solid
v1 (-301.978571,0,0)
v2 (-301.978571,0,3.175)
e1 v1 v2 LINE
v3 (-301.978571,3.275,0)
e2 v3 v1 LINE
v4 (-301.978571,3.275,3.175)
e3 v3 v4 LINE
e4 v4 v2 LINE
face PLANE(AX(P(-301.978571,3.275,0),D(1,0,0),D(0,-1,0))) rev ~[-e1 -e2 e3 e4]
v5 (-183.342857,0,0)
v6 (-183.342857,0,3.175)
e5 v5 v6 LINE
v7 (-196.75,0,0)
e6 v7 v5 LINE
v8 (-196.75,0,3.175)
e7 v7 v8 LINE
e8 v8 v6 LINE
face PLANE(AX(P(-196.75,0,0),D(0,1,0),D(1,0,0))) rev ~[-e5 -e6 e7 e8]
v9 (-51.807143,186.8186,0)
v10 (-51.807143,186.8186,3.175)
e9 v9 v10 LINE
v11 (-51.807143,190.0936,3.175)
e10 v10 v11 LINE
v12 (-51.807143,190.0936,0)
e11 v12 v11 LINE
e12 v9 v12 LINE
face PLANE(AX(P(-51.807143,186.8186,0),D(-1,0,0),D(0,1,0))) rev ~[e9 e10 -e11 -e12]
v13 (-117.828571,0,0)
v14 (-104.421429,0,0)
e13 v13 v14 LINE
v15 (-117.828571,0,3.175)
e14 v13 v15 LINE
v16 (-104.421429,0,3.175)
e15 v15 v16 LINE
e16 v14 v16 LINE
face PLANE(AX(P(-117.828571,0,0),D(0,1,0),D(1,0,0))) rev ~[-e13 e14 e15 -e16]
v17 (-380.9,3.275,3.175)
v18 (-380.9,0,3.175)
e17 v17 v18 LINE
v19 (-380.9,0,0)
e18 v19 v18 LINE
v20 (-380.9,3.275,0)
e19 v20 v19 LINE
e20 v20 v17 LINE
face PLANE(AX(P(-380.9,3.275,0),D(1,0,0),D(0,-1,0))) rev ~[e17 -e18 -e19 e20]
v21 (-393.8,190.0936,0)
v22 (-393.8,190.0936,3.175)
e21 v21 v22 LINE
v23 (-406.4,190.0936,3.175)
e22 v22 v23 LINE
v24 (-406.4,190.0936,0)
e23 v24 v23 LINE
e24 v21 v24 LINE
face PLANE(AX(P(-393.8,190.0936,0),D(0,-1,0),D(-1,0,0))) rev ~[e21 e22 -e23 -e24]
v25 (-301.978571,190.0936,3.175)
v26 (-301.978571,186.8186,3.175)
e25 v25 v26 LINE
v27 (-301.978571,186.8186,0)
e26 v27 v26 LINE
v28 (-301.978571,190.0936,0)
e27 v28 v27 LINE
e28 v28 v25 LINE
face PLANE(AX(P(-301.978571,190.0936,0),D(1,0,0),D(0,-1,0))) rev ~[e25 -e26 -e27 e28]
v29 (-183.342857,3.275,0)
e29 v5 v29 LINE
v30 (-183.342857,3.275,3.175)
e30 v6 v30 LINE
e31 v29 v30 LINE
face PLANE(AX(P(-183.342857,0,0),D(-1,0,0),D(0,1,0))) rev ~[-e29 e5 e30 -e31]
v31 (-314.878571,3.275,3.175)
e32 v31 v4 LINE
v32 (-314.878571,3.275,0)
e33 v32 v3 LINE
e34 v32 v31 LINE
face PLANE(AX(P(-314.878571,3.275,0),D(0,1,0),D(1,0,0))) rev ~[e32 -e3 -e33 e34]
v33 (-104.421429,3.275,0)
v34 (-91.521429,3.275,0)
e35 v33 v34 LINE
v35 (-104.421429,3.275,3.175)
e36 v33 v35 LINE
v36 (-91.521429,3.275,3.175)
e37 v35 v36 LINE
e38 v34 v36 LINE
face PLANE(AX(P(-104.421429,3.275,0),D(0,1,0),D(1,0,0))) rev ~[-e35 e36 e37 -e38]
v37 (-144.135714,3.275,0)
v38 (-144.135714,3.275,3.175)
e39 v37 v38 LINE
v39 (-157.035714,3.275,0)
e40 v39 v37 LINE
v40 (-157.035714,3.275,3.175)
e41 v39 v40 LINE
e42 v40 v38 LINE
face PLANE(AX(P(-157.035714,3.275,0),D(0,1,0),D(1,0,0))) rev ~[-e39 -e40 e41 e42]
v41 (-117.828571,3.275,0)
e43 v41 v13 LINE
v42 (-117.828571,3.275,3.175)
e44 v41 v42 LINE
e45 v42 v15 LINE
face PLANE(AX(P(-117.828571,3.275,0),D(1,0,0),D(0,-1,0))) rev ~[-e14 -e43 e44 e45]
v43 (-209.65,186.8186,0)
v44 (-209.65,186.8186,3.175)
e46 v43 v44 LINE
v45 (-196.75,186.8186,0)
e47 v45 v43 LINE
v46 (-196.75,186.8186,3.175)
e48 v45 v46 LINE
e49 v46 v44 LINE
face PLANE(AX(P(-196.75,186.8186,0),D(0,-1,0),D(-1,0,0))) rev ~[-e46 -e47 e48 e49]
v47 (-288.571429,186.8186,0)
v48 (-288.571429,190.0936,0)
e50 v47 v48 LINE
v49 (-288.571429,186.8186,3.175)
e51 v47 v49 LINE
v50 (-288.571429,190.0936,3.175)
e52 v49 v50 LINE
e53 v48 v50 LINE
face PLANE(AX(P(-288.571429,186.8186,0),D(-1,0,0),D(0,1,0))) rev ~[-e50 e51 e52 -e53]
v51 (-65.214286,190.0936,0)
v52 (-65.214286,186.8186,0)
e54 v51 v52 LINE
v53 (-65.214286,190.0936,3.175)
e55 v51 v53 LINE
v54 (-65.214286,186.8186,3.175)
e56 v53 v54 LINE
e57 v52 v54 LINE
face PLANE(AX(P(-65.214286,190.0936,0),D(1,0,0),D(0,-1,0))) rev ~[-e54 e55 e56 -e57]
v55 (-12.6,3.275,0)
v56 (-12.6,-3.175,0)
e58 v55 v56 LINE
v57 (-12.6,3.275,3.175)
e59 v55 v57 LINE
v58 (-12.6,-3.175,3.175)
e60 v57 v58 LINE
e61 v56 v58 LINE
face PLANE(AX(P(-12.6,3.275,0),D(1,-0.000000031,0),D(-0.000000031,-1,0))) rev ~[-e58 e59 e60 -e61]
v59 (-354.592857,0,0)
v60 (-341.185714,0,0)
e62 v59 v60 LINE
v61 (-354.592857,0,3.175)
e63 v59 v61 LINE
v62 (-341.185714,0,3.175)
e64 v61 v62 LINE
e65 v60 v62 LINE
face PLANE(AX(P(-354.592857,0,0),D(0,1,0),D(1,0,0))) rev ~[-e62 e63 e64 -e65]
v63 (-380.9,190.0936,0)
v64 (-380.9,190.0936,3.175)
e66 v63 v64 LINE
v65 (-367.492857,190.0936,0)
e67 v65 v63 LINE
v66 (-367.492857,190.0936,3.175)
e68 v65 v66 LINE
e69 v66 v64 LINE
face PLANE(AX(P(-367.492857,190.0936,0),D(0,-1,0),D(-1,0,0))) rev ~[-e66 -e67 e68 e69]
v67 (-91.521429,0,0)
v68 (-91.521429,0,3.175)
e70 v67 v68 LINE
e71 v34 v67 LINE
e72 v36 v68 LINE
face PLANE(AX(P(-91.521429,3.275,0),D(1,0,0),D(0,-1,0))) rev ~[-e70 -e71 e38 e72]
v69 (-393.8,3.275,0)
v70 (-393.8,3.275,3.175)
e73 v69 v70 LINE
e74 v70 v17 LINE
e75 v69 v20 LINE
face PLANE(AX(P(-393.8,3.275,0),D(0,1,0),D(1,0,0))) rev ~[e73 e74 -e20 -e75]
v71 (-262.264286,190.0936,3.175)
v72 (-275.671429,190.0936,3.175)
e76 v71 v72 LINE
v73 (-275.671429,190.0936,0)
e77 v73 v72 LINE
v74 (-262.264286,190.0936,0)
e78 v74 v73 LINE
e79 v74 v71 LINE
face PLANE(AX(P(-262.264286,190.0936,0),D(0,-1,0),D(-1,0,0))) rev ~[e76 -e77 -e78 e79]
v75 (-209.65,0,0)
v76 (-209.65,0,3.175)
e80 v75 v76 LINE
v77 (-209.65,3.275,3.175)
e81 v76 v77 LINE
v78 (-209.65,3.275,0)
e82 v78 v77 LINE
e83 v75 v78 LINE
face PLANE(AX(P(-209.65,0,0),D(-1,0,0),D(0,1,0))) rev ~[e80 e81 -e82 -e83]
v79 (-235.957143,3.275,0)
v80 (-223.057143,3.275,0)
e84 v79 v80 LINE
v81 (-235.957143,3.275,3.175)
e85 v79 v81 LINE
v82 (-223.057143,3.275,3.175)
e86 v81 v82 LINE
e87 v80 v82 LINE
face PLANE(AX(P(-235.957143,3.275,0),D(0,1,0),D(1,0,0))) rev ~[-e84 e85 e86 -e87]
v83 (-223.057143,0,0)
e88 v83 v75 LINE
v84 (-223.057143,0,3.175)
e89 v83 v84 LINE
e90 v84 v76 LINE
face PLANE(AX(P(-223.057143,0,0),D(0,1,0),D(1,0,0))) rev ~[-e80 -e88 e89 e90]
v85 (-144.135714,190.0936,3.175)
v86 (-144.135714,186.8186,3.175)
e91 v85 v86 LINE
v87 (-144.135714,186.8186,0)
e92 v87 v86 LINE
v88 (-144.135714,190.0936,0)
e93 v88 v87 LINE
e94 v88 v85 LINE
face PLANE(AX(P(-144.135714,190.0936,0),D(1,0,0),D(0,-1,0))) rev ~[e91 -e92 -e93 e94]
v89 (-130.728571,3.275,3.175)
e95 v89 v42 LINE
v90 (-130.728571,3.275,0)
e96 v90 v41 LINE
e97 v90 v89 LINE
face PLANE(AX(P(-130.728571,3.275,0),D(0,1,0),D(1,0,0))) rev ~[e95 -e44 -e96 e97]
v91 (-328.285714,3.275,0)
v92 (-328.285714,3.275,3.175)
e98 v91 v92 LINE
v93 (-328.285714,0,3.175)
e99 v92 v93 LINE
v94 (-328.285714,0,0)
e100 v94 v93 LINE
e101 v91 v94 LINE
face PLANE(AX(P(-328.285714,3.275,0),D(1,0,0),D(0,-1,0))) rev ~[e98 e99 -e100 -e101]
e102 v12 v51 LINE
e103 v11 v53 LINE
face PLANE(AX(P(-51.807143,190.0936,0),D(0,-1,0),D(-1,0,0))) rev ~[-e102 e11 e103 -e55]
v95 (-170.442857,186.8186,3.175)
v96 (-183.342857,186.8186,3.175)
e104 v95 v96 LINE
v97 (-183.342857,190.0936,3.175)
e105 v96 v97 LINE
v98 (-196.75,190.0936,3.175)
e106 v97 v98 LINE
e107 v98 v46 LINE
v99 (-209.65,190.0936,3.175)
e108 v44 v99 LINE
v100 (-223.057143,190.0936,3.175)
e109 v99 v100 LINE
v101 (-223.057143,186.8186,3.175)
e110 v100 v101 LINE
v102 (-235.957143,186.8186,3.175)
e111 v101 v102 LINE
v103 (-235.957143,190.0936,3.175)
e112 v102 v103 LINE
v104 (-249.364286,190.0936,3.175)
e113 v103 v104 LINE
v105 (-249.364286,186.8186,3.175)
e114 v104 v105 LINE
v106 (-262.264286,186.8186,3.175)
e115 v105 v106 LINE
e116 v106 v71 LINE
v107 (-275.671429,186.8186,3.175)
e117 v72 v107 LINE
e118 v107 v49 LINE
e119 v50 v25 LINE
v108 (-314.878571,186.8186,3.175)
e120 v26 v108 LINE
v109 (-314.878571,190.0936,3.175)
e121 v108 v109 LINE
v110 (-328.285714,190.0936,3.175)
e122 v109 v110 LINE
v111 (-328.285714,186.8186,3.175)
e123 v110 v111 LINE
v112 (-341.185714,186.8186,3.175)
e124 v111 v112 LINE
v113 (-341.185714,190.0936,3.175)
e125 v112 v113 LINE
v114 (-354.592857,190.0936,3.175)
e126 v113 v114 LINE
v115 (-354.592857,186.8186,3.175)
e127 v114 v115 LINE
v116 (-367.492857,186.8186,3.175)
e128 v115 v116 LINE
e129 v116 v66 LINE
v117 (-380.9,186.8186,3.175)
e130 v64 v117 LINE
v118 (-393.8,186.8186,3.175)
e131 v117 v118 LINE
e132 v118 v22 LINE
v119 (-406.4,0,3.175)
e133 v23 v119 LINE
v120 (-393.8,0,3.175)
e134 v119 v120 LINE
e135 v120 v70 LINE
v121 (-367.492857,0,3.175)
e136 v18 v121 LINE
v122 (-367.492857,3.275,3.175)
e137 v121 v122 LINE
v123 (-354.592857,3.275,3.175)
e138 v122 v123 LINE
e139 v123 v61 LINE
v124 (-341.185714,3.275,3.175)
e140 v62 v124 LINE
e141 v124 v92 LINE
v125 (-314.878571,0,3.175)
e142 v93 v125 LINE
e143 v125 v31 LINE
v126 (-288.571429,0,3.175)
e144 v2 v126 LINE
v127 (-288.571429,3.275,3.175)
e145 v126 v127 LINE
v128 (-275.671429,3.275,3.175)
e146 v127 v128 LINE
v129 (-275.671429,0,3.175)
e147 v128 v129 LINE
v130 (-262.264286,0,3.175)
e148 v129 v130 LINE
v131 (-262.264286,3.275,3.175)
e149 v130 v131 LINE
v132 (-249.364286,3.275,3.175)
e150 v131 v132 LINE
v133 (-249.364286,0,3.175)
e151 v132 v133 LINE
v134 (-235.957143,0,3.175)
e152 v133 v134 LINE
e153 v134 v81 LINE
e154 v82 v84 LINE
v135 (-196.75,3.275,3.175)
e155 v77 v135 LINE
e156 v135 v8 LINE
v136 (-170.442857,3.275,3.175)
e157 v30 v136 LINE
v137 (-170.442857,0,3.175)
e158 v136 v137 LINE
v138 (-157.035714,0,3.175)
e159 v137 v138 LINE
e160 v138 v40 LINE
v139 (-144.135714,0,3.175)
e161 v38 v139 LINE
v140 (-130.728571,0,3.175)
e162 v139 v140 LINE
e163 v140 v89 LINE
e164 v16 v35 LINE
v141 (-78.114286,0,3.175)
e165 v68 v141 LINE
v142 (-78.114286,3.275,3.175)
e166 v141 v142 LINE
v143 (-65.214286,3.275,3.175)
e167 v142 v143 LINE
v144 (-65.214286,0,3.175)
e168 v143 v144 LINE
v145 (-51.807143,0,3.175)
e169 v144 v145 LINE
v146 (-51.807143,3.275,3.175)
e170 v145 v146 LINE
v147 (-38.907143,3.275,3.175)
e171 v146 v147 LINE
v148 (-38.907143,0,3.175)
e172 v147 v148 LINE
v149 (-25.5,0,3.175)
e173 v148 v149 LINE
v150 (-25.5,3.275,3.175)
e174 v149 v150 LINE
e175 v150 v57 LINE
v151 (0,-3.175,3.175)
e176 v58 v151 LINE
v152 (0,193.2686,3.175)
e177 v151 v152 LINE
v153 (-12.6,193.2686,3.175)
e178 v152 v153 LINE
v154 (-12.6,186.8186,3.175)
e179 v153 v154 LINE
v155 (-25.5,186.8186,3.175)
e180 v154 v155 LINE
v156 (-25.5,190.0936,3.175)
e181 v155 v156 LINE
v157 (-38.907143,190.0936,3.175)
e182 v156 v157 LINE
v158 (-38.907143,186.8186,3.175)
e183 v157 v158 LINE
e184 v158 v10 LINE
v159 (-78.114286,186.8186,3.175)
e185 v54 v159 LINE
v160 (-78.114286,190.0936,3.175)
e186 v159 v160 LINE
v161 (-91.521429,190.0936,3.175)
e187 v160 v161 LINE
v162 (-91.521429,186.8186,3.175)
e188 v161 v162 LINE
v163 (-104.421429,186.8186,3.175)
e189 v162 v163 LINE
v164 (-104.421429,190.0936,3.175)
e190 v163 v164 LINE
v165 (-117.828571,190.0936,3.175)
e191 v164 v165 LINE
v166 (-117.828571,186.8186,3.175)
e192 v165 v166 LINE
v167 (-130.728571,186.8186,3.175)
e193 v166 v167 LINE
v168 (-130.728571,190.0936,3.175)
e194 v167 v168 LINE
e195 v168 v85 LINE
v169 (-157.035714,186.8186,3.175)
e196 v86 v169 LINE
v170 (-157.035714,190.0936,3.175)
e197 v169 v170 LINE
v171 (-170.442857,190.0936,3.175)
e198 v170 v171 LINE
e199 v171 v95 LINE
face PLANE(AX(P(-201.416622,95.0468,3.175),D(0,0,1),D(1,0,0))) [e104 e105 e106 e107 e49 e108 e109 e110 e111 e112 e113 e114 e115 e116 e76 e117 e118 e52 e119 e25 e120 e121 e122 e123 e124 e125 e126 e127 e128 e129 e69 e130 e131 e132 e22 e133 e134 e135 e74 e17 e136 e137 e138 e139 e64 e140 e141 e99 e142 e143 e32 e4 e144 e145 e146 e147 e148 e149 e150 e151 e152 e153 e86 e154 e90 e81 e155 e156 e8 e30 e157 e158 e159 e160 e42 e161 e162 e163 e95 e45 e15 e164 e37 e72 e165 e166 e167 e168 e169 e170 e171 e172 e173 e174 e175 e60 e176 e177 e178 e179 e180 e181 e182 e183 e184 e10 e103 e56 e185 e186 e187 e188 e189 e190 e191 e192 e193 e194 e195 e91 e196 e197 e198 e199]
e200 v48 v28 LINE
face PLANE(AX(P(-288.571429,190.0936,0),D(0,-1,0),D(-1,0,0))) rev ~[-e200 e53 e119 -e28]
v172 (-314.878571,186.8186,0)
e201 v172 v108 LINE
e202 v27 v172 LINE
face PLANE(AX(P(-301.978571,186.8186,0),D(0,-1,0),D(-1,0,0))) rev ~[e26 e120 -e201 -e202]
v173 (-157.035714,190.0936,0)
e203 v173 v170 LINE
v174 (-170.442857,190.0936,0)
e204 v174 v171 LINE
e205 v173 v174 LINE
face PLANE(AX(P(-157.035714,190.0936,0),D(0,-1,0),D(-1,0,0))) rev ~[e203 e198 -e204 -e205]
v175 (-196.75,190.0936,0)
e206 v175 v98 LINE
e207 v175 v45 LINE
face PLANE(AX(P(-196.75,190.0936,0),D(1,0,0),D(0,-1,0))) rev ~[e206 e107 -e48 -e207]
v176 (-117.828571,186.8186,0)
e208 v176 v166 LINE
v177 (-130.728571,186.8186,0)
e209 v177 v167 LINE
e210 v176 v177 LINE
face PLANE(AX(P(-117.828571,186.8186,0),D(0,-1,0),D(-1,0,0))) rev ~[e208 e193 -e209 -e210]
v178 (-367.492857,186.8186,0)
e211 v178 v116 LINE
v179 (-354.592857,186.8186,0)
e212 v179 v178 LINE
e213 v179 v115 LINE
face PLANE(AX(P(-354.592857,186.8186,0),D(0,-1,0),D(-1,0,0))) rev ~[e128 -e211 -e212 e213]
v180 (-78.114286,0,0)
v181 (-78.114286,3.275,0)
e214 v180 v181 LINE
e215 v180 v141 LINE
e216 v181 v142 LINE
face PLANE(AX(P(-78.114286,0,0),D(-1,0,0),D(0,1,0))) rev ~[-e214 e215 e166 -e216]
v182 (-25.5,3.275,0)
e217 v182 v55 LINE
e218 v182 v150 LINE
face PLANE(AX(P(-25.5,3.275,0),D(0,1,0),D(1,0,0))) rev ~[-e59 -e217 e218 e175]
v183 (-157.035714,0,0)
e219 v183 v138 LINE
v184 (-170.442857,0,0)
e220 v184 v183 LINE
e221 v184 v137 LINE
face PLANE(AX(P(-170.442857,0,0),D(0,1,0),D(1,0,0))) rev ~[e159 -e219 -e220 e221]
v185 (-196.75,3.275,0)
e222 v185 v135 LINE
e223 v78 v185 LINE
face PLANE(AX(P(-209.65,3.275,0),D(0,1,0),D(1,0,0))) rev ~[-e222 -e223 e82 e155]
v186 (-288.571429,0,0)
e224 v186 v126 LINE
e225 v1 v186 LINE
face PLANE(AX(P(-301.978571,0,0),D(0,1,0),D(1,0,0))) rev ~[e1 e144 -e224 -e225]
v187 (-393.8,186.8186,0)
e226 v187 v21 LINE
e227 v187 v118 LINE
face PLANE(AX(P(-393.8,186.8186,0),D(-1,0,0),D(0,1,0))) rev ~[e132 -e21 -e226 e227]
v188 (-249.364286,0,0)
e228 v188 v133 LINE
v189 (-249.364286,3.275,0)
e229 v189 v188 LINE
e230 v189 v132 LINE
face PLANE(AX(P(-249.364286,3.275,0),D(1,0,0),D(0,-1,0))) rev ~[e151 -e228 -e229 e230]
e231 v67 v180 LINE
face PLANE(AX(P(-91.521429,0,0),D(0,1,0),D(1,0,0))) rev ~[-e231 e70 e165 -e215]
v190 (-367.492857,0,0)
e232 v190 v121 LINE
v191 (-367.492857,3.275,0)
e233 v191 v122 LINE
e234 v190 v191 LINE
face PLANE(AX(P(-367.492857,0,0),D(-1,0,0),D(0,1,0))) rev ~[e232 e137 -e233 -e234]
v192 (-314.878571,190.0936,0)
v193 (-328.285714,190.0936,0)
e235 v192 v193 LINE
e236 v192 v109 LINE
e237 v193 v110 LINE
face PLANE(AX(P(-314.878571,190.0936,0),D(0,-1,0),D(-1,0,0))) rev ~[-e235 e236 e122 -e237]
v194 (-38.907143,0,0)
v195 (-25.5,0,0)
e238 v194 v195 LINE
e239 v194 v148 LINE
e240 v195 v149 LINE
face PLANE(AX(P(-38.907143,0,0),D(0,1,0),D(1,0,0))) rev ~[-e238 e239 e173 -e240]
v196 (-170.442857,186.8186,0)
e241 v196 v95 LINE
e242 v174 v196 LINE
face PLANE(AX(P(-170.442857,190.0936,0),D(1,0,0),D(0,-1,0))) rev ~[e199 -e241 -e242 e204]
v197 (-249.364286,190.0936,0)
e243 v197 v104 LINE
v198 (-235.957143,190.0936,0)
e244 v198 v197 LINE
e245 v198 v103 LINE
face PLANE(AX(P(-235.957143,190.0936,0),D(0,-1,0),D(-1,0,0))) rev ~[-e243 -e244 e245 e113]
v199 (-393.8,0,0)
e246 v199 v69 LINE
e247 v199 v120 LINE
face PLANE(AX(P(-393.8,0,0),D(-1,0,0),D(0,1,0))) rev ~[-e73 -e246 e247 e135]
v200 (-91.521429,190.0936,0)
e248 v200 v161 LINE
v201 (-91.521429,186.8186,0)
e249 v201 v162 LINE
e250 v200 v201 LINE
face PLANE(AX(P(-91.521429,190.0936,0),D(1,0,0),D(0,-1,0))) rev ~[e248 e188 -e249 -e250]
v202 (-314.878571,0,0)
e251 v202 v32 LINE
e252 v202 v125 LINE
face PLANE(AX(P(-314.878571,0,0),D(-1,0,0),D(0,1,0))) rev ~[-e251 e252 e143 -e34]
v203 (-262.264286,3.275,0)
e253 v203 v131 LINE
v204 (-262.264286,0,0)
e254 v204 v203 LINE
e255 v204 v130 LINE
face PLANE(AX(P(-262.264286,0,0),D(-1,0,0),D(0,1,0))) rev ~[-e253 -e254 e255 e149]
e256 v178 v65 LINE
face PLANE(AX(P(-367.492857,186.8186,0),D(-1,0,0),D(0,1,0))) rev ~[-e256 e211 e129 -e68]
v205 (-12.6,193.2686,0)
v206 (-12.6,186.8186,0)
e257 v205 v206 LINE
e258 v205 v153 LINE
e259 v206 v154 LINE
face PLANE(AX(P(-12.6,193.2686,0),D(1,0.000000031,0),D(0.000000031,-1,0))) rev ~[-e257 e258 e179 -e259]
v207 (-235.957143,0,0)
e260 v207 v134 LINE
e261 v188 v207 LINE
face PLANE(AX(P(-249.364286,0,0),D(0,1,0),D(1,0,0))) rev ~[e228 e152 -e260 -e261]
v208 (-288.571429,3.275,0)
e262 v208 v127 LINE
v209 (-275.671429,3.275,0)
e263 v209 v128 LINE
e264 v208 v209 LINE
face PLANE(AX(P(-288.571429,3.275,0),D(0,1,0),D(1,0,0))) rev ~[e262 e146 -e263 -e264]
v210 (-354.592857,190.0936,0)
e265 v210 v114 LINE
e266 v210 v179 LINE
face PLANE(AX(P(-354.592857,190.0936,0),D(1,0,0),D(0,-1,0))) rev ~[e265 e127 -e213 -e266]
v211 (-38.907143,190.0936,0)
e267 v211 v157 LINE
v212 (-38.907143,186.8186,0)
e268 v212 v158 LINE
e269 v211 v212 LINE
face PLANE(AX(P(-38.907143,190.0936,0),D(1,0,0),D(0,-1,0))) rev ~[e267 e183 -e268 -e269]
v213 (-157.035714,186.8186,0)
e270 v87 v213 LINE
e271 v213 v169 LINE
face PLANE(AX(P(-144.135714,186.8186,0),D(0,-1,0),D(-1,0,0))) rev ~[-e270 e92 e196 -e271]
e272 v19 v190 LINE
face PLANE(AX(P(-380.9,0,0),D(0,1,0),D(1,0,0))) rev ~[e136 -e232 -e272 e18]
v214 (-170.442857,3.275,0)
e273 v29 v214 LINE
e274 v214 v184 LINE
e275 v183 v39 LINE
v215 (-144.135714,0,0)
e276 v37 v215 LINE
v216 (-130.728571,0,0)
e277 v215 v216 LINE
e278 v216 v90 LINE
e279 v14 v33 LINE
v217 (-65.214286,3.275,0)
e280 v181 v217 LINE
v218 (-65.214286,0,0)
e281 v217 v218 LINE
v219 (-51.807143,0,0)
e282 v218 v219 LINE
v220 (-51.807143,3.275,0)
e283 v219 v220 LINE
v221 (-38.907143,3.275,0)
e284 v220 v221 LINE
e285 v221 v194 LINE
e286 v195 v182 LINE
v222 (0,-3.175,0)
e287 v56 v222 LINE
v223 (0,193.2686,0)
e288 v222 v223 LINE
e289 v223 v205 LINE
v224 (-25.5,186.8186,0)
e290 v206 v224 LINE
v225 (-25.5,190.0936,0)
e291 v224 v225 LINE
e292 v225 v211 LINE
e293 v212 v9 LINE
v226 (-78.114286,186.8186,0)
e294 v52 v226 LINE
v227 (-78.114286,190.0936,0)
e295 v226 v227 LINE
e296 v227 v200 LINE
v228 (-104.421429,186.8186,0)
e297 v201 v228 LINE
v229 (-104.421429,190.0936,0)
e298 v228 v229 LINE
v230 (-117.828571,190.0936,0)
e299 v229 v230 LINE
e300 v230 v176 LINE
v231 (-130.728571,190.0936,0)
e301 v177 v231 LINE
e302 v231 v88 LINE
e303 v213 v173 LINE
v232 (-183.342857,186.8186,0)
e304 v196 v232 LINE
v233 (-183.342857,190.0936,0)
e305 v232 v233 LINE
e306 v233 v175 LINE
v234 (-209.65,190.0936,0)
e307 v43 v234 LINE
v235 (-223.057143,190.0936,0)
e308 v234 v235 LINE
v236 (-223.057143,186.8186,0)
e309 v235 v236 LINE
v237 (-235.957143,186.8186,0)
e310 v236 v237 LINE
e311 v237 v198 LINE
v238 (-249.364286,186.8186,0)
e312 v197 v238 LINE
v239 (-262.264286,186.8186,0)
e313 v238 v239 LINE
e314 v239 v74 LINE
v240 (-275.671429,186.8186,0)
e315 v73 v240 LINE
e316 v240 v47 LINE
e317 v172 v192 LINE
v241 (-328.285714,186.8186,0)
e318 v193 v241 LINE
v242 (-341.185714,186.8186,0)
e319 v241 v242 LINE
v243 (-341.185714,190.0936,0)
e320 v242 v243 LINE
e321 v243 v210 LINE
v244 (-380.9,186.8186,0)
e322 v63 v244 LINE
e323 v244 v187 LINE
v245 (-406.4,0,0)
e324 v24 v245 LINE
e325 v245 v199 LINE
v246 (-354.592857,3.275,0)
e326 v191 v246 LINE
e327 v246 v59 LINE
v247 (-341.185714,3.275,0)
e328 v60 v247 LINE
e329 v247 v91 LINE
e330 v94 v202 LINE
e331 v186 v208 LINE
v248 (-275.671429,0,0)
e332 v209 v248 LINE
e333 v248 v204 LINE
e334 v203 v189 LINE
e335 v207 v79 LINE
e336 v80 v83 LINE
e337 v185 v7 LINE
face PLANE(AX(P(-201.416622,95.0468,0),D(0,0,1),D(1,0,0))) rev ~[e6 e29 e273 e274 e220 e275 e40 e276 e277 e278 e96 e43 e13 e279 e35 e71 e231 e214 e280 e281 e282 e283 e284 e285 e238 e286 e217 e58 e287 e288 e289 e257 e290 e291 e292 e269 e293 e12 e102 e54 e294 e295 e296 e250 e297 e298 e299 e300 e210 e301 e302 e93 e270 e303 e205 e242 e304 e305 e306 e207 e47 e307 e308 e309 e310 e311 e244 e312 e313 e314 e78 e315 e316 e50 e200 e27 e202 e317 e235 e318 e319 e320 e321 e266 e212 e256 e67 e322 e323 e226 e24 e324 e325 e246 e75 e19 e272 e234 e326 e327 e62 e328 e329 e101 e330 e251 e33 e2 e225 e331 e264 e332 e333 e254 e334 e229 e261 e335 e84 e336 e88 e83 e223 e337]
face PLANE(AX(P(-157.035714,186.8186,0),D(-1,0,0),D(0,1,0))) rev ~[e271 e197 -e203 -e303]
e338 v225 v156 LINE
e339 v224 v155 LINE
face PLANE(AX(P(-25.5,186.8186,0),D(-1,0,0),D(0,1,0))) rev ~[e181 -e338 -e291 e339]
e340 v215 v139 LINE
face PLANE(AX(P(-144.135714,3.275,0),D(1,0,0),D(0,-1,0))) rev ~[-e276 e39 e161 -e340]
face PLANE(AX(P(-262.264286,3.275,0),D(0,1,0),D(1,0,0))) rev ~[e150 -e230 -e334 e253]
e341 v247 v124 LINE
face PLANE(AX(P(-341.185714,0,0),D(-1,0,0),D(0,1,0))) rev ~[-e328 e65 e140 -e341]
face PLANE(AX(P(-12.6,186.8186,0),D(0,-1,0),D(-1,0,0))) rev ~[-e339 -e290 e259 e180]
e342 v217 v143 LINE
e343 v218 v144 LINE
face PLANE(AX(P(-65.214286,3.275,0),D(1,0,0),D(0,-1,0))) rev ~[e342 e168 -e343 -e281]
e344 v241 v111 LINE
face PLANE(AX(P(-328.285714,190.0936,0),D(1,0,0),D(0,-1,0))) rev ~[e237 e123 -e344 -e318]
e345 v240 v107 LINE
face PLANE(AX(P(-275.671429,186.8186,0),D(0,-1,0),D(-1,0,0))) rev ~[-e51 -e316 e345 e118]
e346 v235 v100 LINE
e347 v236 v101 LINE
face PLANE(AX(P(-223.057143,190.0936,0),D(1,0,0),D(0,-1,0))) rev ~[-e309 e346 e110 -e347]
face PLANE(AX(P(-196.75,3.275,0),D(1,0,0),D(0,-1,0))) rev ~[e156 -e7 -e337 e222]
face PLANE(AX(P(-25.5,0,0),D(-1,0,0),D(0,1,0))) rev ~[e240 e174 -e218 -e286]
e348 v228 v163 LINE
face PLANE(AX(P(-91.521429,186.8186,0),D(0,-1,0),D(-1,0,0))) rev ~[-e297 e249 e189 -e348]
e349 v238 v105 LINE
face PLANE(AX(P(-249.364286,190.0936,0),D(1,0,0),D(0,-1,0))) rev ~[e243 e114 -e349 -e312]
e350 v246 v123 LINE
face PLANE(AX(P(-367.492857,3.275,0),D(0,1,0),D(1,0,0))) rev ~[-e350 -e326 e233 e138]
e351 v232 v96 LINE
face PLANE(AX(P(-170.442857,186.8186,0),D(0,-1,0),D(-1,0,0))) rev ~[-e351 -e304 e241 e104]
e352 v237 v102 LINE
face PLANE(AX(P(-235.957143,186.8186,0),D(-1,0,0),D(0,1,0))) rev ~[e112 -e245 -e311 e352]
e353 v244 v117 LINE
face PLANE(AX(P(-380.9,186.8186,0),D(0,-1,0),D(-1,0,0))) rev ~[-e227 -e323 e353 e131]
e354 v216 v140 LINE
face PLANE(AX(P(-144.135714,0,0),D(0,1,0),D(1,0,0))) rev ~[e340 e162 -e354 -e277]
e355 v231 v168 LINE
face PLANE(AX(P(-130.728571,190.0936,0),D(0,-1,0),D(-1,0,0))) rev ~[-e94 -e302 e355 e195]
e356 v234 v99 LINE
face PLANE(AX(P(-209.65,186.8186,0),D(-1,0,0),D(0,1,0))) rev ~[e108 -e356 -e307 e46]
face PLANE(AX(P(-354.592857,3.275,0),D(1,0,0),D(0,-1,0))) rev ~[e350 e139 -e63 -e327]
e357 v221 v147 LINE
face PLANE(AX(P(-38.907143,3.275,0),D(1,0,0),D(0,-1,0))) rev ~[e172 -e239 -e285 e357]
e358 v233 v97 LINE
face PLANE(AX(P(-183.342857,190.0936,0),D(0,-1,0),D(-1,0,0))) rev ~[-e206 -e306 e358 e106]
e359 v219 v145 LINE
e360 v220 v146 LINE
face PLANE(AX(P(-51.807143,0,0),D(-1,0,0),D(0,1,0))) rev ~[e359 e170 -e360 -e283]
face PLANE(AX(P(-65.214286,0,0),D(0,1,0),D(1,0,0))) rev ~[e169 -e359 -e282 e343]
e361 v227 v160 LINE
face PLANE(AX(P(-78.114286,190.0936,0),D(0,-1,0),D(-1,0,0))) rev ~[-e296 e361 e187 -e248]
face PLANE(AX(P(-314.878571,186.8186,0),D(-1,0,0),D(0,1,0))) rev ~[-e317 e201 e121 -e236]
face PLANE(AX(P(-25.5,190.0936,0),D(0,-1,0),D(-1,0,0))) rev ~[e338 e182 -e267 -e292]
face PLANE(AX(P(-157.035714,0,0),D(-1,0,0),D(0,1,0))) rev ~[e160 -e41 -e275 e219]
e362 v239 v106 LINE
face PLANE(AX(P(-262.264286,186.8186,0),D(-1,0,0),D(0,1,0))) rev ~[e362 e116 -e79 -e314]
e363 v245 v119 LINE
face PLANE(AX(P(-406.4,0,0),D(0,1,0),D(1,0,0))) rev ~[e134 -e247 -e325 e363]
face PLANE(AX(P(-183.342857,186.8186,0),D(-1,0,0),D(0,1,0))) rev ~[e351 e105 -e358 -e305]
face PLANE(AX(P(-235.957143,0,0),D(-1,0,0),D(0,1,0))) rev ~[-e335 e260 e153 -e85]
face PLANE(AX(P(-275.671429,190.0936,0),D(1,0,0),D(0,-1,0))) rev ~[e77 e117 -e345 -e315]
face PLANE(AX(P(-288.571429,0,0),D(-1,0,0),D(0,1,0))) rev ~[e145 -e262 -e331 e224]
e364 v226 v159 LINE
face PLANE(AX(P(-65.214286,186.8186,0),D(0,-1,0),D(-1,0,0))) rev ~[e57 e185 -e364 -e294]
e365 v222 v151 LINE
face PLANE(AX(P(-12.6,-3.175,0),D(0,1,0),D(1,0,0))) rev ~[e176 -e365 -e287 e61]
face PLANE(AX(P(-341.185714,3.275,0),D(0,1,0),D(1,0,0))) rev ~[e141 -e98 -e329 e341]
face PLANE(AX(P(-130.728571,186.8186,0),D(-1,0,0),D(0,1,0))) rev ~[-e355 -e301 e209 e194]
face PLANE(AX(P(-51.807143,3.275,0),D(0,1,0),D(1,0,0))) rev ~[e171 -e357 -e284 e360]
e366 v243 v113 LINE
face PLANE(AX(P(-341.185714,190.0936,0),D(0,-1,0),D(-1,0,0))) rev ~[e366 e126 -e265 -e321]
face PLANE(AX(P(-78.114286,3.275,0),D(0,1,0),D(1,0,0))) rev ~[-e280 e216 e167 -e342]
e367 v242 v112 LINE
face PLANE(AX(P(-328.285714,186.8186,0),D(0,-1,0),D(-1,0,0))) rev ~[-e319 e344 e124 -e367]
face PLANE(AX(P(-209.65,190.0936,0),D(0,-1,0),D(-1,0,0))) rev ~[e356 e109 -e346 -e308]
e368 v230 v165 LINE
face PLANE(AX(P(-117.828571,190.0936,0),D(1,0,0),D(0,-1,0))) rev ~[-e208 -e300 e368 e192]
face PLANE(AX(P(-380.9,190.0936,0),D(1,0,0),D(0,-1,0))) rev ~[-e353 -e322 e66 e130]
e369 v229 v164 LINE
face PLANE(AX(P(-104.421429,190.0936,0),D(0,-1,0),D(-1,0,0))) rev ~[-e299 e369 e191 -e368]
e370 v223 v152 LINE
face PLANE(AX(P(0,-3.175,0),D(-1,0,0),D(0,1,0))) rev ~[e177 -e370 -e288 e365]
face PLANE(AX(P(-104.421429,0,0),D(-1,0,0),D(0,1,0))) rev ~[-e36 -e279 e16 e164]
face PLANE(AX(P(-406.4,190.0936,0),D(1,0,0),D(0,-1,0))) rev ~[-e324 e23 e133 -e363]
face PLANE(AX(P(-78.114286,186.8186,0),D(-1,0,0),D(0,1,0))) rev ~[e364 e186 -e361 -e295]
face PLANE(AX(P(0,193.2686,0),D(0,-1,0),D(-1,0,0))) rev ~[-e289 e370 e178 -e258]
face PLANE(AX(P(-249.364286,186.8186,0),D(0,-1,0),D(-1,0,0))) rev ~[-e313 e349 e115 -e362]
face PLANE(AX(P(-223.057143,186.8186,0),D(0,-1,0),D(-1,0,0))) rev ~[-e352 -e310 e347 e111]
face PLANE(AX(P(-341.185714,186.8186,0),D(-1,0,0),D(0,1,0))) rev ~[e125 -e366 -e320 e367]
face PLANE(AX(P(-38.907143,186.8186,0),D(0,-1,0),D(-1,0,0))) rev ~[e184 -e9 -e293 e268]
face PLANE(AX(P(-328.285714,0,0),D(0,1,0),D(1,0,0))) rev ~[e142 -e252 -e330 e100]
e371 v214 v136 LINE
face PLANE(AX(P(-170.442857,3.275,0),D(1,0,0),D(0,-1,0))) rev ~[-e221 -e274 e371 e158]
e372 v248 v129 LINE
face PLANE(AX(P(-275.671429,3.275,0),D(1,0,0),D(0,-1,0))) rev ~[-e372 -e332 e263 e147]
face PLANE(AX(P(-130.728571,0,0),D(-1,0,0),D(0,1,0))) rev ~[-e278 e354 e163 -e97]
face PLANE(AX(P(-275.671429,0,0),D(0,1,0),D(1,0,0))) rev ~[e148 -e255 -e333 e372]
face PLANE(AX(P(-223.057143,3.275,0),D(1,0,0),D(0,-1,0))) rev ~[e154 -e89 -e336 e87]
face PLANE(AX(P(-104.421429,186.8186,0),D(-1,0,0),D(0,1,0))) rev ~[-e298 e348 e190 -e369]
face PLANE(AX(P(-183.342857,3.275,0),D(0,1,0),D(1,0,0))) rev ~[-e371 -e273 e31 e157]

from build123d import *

# Parameters (mm, degrees)
BOSS_EXTRUDE1_DEPTH = 3.175


with BuildPart() as part:
    # Sketch1 → Boss-Extrude1 (new body)
    with BuildSketch(Plane.XY):
        Polygon((-12.6, 186.8186), (-25.5, 186.8186), (-25.5, 190.0936), (-38.907142857, 190.0936), (-38.907142857, 186.8186), (-51.807142857, 186.8186), (-51.807142857, 190.0936), (-65.214285714, 190.0936), (-65.214285714, 186.8186), (-78.114285714, 186.8186), (-78.114285714, 190.0936), (-91.521428571, 190.0936), (-91.521428571, 186.8186), (-104.421428571, 186.8186), (-104.421428571, 190.0936), (-117.828571429, 190.0936), (-117.828571429, 186.8186), (-130.728571429, 186.8186), (-130.728571429, 190.0936), (-144.135714286, 190.0936), (-144.135714286, 186.8186), (-157.035714286, 186.8186), (-157.035714286, 190.0936), (-170.442857143, 190.0936), (-170.442857143, 186.8186), (-183.342857143, 186.8186), (-183.342857143, 190.0936), (-196.75, 190.0936), (-196.75, 186.8186), (-209.65, 186.8186), (-209.65, 190.0936), (-223.057142857, 190.0936), (-223.057142857, 186.8186), (-235.957142857, 186.8186), (-235.957142857, 190.0936), (-249.364285714, 190.0936), (-249.364285714, 186.8186), (-262.264285714, 186.8186), (-262.264285714, 190.0936), (-275.671428571, 190.0936), (-275.671428571, 186.8186), (-288.571428571, 186.8186), (-288.571428571, 190.0936), (-301.978571429, 190.0936), (-301.978571429, 186.8186), (-314.878571429, 186.8186), (-314.878571429, 190.0936), (-328.285714286, 190.0936), (-328.285714286, 186.8186), (-341.185714286, 186.8186), (-341.185714286, 190.0936), (-354.592857143, 190.0936), (-354.592857143, 186.8186), (-367.492857143, 186.8186), (-367.492857143, 190.0936), (-380.9, 190.0936), (-380.9, 186.8186), (-393.8, 186.8186), (-393.8, 190.0936), (-406.4, 190.0936), (-406.4, 0), (-393.8, 0), (-393.8, 3.275), (-380.9, 3.275), (-380.9, 0), (-367.492857143, 0), (-367.492857143, 3.275), (-354.592857143, 3.275), (-354.592857143, 0), (-341.185714286, 0), (-341.185714286, 3.275), (-328.285714286, 3.275), (-328.285714286, 0), (-314.878571429, 0), (-314.878571429, 3.275), (-301.978571429, 3.275), (-301.978571429, 0), (-288.571428571, 0), (-288.571428571, 3.275), (-275.671428571, 3.275), (-275.671428571, 0), (-262.264285714, 0), (-262.264285714, 3.275), (-249.364285714, 3.275), (-249.364285714, 0), (-235.957142857, 0), (-235.957142857, 3.275), (-223.057142857, 3.275), (-223.057142857, 0), (-209.65, 0), (-209.65, 3.275), (-196.75, 3.275), (-196.75, 0), (-183.342857143, 0), (-183.342857143, 3.275), (-170.442857143, 3.275), (-170.442857143, 0), (-157.035714286, 0), (-157.035714286, 3.275), (-144.135714286, 3.275), (-144.135714286, 0), (-130.728571429, 0), (-130.728571429, 3.275), (-117.828571429, 3.275), (-117.828571429, 0), (-104.421428571, 0), (-104.421428571, 3.275), (-91.521428571, 3.275), (-91.521428571, 0), (-78.114285714, 0), (-78.114285714, 3.275), (-65.214285714, 3.275), (-65.214285714, 0), (-51.807142857, 0), (-51.807142857, 3.275), (-38.907142857, 3.275), (-38.907142857, 0), (-25.5, 0), (-25.5, 3.275), (-12.6, 3.275), (-12.6000002, -3.175), (0, -3.175), (0, 193.2686), (-12.6000002, 193.2686), align=None)
    extrude(amount=BOSS_EXTRUDE1_DEPTH)


solid = part.part
